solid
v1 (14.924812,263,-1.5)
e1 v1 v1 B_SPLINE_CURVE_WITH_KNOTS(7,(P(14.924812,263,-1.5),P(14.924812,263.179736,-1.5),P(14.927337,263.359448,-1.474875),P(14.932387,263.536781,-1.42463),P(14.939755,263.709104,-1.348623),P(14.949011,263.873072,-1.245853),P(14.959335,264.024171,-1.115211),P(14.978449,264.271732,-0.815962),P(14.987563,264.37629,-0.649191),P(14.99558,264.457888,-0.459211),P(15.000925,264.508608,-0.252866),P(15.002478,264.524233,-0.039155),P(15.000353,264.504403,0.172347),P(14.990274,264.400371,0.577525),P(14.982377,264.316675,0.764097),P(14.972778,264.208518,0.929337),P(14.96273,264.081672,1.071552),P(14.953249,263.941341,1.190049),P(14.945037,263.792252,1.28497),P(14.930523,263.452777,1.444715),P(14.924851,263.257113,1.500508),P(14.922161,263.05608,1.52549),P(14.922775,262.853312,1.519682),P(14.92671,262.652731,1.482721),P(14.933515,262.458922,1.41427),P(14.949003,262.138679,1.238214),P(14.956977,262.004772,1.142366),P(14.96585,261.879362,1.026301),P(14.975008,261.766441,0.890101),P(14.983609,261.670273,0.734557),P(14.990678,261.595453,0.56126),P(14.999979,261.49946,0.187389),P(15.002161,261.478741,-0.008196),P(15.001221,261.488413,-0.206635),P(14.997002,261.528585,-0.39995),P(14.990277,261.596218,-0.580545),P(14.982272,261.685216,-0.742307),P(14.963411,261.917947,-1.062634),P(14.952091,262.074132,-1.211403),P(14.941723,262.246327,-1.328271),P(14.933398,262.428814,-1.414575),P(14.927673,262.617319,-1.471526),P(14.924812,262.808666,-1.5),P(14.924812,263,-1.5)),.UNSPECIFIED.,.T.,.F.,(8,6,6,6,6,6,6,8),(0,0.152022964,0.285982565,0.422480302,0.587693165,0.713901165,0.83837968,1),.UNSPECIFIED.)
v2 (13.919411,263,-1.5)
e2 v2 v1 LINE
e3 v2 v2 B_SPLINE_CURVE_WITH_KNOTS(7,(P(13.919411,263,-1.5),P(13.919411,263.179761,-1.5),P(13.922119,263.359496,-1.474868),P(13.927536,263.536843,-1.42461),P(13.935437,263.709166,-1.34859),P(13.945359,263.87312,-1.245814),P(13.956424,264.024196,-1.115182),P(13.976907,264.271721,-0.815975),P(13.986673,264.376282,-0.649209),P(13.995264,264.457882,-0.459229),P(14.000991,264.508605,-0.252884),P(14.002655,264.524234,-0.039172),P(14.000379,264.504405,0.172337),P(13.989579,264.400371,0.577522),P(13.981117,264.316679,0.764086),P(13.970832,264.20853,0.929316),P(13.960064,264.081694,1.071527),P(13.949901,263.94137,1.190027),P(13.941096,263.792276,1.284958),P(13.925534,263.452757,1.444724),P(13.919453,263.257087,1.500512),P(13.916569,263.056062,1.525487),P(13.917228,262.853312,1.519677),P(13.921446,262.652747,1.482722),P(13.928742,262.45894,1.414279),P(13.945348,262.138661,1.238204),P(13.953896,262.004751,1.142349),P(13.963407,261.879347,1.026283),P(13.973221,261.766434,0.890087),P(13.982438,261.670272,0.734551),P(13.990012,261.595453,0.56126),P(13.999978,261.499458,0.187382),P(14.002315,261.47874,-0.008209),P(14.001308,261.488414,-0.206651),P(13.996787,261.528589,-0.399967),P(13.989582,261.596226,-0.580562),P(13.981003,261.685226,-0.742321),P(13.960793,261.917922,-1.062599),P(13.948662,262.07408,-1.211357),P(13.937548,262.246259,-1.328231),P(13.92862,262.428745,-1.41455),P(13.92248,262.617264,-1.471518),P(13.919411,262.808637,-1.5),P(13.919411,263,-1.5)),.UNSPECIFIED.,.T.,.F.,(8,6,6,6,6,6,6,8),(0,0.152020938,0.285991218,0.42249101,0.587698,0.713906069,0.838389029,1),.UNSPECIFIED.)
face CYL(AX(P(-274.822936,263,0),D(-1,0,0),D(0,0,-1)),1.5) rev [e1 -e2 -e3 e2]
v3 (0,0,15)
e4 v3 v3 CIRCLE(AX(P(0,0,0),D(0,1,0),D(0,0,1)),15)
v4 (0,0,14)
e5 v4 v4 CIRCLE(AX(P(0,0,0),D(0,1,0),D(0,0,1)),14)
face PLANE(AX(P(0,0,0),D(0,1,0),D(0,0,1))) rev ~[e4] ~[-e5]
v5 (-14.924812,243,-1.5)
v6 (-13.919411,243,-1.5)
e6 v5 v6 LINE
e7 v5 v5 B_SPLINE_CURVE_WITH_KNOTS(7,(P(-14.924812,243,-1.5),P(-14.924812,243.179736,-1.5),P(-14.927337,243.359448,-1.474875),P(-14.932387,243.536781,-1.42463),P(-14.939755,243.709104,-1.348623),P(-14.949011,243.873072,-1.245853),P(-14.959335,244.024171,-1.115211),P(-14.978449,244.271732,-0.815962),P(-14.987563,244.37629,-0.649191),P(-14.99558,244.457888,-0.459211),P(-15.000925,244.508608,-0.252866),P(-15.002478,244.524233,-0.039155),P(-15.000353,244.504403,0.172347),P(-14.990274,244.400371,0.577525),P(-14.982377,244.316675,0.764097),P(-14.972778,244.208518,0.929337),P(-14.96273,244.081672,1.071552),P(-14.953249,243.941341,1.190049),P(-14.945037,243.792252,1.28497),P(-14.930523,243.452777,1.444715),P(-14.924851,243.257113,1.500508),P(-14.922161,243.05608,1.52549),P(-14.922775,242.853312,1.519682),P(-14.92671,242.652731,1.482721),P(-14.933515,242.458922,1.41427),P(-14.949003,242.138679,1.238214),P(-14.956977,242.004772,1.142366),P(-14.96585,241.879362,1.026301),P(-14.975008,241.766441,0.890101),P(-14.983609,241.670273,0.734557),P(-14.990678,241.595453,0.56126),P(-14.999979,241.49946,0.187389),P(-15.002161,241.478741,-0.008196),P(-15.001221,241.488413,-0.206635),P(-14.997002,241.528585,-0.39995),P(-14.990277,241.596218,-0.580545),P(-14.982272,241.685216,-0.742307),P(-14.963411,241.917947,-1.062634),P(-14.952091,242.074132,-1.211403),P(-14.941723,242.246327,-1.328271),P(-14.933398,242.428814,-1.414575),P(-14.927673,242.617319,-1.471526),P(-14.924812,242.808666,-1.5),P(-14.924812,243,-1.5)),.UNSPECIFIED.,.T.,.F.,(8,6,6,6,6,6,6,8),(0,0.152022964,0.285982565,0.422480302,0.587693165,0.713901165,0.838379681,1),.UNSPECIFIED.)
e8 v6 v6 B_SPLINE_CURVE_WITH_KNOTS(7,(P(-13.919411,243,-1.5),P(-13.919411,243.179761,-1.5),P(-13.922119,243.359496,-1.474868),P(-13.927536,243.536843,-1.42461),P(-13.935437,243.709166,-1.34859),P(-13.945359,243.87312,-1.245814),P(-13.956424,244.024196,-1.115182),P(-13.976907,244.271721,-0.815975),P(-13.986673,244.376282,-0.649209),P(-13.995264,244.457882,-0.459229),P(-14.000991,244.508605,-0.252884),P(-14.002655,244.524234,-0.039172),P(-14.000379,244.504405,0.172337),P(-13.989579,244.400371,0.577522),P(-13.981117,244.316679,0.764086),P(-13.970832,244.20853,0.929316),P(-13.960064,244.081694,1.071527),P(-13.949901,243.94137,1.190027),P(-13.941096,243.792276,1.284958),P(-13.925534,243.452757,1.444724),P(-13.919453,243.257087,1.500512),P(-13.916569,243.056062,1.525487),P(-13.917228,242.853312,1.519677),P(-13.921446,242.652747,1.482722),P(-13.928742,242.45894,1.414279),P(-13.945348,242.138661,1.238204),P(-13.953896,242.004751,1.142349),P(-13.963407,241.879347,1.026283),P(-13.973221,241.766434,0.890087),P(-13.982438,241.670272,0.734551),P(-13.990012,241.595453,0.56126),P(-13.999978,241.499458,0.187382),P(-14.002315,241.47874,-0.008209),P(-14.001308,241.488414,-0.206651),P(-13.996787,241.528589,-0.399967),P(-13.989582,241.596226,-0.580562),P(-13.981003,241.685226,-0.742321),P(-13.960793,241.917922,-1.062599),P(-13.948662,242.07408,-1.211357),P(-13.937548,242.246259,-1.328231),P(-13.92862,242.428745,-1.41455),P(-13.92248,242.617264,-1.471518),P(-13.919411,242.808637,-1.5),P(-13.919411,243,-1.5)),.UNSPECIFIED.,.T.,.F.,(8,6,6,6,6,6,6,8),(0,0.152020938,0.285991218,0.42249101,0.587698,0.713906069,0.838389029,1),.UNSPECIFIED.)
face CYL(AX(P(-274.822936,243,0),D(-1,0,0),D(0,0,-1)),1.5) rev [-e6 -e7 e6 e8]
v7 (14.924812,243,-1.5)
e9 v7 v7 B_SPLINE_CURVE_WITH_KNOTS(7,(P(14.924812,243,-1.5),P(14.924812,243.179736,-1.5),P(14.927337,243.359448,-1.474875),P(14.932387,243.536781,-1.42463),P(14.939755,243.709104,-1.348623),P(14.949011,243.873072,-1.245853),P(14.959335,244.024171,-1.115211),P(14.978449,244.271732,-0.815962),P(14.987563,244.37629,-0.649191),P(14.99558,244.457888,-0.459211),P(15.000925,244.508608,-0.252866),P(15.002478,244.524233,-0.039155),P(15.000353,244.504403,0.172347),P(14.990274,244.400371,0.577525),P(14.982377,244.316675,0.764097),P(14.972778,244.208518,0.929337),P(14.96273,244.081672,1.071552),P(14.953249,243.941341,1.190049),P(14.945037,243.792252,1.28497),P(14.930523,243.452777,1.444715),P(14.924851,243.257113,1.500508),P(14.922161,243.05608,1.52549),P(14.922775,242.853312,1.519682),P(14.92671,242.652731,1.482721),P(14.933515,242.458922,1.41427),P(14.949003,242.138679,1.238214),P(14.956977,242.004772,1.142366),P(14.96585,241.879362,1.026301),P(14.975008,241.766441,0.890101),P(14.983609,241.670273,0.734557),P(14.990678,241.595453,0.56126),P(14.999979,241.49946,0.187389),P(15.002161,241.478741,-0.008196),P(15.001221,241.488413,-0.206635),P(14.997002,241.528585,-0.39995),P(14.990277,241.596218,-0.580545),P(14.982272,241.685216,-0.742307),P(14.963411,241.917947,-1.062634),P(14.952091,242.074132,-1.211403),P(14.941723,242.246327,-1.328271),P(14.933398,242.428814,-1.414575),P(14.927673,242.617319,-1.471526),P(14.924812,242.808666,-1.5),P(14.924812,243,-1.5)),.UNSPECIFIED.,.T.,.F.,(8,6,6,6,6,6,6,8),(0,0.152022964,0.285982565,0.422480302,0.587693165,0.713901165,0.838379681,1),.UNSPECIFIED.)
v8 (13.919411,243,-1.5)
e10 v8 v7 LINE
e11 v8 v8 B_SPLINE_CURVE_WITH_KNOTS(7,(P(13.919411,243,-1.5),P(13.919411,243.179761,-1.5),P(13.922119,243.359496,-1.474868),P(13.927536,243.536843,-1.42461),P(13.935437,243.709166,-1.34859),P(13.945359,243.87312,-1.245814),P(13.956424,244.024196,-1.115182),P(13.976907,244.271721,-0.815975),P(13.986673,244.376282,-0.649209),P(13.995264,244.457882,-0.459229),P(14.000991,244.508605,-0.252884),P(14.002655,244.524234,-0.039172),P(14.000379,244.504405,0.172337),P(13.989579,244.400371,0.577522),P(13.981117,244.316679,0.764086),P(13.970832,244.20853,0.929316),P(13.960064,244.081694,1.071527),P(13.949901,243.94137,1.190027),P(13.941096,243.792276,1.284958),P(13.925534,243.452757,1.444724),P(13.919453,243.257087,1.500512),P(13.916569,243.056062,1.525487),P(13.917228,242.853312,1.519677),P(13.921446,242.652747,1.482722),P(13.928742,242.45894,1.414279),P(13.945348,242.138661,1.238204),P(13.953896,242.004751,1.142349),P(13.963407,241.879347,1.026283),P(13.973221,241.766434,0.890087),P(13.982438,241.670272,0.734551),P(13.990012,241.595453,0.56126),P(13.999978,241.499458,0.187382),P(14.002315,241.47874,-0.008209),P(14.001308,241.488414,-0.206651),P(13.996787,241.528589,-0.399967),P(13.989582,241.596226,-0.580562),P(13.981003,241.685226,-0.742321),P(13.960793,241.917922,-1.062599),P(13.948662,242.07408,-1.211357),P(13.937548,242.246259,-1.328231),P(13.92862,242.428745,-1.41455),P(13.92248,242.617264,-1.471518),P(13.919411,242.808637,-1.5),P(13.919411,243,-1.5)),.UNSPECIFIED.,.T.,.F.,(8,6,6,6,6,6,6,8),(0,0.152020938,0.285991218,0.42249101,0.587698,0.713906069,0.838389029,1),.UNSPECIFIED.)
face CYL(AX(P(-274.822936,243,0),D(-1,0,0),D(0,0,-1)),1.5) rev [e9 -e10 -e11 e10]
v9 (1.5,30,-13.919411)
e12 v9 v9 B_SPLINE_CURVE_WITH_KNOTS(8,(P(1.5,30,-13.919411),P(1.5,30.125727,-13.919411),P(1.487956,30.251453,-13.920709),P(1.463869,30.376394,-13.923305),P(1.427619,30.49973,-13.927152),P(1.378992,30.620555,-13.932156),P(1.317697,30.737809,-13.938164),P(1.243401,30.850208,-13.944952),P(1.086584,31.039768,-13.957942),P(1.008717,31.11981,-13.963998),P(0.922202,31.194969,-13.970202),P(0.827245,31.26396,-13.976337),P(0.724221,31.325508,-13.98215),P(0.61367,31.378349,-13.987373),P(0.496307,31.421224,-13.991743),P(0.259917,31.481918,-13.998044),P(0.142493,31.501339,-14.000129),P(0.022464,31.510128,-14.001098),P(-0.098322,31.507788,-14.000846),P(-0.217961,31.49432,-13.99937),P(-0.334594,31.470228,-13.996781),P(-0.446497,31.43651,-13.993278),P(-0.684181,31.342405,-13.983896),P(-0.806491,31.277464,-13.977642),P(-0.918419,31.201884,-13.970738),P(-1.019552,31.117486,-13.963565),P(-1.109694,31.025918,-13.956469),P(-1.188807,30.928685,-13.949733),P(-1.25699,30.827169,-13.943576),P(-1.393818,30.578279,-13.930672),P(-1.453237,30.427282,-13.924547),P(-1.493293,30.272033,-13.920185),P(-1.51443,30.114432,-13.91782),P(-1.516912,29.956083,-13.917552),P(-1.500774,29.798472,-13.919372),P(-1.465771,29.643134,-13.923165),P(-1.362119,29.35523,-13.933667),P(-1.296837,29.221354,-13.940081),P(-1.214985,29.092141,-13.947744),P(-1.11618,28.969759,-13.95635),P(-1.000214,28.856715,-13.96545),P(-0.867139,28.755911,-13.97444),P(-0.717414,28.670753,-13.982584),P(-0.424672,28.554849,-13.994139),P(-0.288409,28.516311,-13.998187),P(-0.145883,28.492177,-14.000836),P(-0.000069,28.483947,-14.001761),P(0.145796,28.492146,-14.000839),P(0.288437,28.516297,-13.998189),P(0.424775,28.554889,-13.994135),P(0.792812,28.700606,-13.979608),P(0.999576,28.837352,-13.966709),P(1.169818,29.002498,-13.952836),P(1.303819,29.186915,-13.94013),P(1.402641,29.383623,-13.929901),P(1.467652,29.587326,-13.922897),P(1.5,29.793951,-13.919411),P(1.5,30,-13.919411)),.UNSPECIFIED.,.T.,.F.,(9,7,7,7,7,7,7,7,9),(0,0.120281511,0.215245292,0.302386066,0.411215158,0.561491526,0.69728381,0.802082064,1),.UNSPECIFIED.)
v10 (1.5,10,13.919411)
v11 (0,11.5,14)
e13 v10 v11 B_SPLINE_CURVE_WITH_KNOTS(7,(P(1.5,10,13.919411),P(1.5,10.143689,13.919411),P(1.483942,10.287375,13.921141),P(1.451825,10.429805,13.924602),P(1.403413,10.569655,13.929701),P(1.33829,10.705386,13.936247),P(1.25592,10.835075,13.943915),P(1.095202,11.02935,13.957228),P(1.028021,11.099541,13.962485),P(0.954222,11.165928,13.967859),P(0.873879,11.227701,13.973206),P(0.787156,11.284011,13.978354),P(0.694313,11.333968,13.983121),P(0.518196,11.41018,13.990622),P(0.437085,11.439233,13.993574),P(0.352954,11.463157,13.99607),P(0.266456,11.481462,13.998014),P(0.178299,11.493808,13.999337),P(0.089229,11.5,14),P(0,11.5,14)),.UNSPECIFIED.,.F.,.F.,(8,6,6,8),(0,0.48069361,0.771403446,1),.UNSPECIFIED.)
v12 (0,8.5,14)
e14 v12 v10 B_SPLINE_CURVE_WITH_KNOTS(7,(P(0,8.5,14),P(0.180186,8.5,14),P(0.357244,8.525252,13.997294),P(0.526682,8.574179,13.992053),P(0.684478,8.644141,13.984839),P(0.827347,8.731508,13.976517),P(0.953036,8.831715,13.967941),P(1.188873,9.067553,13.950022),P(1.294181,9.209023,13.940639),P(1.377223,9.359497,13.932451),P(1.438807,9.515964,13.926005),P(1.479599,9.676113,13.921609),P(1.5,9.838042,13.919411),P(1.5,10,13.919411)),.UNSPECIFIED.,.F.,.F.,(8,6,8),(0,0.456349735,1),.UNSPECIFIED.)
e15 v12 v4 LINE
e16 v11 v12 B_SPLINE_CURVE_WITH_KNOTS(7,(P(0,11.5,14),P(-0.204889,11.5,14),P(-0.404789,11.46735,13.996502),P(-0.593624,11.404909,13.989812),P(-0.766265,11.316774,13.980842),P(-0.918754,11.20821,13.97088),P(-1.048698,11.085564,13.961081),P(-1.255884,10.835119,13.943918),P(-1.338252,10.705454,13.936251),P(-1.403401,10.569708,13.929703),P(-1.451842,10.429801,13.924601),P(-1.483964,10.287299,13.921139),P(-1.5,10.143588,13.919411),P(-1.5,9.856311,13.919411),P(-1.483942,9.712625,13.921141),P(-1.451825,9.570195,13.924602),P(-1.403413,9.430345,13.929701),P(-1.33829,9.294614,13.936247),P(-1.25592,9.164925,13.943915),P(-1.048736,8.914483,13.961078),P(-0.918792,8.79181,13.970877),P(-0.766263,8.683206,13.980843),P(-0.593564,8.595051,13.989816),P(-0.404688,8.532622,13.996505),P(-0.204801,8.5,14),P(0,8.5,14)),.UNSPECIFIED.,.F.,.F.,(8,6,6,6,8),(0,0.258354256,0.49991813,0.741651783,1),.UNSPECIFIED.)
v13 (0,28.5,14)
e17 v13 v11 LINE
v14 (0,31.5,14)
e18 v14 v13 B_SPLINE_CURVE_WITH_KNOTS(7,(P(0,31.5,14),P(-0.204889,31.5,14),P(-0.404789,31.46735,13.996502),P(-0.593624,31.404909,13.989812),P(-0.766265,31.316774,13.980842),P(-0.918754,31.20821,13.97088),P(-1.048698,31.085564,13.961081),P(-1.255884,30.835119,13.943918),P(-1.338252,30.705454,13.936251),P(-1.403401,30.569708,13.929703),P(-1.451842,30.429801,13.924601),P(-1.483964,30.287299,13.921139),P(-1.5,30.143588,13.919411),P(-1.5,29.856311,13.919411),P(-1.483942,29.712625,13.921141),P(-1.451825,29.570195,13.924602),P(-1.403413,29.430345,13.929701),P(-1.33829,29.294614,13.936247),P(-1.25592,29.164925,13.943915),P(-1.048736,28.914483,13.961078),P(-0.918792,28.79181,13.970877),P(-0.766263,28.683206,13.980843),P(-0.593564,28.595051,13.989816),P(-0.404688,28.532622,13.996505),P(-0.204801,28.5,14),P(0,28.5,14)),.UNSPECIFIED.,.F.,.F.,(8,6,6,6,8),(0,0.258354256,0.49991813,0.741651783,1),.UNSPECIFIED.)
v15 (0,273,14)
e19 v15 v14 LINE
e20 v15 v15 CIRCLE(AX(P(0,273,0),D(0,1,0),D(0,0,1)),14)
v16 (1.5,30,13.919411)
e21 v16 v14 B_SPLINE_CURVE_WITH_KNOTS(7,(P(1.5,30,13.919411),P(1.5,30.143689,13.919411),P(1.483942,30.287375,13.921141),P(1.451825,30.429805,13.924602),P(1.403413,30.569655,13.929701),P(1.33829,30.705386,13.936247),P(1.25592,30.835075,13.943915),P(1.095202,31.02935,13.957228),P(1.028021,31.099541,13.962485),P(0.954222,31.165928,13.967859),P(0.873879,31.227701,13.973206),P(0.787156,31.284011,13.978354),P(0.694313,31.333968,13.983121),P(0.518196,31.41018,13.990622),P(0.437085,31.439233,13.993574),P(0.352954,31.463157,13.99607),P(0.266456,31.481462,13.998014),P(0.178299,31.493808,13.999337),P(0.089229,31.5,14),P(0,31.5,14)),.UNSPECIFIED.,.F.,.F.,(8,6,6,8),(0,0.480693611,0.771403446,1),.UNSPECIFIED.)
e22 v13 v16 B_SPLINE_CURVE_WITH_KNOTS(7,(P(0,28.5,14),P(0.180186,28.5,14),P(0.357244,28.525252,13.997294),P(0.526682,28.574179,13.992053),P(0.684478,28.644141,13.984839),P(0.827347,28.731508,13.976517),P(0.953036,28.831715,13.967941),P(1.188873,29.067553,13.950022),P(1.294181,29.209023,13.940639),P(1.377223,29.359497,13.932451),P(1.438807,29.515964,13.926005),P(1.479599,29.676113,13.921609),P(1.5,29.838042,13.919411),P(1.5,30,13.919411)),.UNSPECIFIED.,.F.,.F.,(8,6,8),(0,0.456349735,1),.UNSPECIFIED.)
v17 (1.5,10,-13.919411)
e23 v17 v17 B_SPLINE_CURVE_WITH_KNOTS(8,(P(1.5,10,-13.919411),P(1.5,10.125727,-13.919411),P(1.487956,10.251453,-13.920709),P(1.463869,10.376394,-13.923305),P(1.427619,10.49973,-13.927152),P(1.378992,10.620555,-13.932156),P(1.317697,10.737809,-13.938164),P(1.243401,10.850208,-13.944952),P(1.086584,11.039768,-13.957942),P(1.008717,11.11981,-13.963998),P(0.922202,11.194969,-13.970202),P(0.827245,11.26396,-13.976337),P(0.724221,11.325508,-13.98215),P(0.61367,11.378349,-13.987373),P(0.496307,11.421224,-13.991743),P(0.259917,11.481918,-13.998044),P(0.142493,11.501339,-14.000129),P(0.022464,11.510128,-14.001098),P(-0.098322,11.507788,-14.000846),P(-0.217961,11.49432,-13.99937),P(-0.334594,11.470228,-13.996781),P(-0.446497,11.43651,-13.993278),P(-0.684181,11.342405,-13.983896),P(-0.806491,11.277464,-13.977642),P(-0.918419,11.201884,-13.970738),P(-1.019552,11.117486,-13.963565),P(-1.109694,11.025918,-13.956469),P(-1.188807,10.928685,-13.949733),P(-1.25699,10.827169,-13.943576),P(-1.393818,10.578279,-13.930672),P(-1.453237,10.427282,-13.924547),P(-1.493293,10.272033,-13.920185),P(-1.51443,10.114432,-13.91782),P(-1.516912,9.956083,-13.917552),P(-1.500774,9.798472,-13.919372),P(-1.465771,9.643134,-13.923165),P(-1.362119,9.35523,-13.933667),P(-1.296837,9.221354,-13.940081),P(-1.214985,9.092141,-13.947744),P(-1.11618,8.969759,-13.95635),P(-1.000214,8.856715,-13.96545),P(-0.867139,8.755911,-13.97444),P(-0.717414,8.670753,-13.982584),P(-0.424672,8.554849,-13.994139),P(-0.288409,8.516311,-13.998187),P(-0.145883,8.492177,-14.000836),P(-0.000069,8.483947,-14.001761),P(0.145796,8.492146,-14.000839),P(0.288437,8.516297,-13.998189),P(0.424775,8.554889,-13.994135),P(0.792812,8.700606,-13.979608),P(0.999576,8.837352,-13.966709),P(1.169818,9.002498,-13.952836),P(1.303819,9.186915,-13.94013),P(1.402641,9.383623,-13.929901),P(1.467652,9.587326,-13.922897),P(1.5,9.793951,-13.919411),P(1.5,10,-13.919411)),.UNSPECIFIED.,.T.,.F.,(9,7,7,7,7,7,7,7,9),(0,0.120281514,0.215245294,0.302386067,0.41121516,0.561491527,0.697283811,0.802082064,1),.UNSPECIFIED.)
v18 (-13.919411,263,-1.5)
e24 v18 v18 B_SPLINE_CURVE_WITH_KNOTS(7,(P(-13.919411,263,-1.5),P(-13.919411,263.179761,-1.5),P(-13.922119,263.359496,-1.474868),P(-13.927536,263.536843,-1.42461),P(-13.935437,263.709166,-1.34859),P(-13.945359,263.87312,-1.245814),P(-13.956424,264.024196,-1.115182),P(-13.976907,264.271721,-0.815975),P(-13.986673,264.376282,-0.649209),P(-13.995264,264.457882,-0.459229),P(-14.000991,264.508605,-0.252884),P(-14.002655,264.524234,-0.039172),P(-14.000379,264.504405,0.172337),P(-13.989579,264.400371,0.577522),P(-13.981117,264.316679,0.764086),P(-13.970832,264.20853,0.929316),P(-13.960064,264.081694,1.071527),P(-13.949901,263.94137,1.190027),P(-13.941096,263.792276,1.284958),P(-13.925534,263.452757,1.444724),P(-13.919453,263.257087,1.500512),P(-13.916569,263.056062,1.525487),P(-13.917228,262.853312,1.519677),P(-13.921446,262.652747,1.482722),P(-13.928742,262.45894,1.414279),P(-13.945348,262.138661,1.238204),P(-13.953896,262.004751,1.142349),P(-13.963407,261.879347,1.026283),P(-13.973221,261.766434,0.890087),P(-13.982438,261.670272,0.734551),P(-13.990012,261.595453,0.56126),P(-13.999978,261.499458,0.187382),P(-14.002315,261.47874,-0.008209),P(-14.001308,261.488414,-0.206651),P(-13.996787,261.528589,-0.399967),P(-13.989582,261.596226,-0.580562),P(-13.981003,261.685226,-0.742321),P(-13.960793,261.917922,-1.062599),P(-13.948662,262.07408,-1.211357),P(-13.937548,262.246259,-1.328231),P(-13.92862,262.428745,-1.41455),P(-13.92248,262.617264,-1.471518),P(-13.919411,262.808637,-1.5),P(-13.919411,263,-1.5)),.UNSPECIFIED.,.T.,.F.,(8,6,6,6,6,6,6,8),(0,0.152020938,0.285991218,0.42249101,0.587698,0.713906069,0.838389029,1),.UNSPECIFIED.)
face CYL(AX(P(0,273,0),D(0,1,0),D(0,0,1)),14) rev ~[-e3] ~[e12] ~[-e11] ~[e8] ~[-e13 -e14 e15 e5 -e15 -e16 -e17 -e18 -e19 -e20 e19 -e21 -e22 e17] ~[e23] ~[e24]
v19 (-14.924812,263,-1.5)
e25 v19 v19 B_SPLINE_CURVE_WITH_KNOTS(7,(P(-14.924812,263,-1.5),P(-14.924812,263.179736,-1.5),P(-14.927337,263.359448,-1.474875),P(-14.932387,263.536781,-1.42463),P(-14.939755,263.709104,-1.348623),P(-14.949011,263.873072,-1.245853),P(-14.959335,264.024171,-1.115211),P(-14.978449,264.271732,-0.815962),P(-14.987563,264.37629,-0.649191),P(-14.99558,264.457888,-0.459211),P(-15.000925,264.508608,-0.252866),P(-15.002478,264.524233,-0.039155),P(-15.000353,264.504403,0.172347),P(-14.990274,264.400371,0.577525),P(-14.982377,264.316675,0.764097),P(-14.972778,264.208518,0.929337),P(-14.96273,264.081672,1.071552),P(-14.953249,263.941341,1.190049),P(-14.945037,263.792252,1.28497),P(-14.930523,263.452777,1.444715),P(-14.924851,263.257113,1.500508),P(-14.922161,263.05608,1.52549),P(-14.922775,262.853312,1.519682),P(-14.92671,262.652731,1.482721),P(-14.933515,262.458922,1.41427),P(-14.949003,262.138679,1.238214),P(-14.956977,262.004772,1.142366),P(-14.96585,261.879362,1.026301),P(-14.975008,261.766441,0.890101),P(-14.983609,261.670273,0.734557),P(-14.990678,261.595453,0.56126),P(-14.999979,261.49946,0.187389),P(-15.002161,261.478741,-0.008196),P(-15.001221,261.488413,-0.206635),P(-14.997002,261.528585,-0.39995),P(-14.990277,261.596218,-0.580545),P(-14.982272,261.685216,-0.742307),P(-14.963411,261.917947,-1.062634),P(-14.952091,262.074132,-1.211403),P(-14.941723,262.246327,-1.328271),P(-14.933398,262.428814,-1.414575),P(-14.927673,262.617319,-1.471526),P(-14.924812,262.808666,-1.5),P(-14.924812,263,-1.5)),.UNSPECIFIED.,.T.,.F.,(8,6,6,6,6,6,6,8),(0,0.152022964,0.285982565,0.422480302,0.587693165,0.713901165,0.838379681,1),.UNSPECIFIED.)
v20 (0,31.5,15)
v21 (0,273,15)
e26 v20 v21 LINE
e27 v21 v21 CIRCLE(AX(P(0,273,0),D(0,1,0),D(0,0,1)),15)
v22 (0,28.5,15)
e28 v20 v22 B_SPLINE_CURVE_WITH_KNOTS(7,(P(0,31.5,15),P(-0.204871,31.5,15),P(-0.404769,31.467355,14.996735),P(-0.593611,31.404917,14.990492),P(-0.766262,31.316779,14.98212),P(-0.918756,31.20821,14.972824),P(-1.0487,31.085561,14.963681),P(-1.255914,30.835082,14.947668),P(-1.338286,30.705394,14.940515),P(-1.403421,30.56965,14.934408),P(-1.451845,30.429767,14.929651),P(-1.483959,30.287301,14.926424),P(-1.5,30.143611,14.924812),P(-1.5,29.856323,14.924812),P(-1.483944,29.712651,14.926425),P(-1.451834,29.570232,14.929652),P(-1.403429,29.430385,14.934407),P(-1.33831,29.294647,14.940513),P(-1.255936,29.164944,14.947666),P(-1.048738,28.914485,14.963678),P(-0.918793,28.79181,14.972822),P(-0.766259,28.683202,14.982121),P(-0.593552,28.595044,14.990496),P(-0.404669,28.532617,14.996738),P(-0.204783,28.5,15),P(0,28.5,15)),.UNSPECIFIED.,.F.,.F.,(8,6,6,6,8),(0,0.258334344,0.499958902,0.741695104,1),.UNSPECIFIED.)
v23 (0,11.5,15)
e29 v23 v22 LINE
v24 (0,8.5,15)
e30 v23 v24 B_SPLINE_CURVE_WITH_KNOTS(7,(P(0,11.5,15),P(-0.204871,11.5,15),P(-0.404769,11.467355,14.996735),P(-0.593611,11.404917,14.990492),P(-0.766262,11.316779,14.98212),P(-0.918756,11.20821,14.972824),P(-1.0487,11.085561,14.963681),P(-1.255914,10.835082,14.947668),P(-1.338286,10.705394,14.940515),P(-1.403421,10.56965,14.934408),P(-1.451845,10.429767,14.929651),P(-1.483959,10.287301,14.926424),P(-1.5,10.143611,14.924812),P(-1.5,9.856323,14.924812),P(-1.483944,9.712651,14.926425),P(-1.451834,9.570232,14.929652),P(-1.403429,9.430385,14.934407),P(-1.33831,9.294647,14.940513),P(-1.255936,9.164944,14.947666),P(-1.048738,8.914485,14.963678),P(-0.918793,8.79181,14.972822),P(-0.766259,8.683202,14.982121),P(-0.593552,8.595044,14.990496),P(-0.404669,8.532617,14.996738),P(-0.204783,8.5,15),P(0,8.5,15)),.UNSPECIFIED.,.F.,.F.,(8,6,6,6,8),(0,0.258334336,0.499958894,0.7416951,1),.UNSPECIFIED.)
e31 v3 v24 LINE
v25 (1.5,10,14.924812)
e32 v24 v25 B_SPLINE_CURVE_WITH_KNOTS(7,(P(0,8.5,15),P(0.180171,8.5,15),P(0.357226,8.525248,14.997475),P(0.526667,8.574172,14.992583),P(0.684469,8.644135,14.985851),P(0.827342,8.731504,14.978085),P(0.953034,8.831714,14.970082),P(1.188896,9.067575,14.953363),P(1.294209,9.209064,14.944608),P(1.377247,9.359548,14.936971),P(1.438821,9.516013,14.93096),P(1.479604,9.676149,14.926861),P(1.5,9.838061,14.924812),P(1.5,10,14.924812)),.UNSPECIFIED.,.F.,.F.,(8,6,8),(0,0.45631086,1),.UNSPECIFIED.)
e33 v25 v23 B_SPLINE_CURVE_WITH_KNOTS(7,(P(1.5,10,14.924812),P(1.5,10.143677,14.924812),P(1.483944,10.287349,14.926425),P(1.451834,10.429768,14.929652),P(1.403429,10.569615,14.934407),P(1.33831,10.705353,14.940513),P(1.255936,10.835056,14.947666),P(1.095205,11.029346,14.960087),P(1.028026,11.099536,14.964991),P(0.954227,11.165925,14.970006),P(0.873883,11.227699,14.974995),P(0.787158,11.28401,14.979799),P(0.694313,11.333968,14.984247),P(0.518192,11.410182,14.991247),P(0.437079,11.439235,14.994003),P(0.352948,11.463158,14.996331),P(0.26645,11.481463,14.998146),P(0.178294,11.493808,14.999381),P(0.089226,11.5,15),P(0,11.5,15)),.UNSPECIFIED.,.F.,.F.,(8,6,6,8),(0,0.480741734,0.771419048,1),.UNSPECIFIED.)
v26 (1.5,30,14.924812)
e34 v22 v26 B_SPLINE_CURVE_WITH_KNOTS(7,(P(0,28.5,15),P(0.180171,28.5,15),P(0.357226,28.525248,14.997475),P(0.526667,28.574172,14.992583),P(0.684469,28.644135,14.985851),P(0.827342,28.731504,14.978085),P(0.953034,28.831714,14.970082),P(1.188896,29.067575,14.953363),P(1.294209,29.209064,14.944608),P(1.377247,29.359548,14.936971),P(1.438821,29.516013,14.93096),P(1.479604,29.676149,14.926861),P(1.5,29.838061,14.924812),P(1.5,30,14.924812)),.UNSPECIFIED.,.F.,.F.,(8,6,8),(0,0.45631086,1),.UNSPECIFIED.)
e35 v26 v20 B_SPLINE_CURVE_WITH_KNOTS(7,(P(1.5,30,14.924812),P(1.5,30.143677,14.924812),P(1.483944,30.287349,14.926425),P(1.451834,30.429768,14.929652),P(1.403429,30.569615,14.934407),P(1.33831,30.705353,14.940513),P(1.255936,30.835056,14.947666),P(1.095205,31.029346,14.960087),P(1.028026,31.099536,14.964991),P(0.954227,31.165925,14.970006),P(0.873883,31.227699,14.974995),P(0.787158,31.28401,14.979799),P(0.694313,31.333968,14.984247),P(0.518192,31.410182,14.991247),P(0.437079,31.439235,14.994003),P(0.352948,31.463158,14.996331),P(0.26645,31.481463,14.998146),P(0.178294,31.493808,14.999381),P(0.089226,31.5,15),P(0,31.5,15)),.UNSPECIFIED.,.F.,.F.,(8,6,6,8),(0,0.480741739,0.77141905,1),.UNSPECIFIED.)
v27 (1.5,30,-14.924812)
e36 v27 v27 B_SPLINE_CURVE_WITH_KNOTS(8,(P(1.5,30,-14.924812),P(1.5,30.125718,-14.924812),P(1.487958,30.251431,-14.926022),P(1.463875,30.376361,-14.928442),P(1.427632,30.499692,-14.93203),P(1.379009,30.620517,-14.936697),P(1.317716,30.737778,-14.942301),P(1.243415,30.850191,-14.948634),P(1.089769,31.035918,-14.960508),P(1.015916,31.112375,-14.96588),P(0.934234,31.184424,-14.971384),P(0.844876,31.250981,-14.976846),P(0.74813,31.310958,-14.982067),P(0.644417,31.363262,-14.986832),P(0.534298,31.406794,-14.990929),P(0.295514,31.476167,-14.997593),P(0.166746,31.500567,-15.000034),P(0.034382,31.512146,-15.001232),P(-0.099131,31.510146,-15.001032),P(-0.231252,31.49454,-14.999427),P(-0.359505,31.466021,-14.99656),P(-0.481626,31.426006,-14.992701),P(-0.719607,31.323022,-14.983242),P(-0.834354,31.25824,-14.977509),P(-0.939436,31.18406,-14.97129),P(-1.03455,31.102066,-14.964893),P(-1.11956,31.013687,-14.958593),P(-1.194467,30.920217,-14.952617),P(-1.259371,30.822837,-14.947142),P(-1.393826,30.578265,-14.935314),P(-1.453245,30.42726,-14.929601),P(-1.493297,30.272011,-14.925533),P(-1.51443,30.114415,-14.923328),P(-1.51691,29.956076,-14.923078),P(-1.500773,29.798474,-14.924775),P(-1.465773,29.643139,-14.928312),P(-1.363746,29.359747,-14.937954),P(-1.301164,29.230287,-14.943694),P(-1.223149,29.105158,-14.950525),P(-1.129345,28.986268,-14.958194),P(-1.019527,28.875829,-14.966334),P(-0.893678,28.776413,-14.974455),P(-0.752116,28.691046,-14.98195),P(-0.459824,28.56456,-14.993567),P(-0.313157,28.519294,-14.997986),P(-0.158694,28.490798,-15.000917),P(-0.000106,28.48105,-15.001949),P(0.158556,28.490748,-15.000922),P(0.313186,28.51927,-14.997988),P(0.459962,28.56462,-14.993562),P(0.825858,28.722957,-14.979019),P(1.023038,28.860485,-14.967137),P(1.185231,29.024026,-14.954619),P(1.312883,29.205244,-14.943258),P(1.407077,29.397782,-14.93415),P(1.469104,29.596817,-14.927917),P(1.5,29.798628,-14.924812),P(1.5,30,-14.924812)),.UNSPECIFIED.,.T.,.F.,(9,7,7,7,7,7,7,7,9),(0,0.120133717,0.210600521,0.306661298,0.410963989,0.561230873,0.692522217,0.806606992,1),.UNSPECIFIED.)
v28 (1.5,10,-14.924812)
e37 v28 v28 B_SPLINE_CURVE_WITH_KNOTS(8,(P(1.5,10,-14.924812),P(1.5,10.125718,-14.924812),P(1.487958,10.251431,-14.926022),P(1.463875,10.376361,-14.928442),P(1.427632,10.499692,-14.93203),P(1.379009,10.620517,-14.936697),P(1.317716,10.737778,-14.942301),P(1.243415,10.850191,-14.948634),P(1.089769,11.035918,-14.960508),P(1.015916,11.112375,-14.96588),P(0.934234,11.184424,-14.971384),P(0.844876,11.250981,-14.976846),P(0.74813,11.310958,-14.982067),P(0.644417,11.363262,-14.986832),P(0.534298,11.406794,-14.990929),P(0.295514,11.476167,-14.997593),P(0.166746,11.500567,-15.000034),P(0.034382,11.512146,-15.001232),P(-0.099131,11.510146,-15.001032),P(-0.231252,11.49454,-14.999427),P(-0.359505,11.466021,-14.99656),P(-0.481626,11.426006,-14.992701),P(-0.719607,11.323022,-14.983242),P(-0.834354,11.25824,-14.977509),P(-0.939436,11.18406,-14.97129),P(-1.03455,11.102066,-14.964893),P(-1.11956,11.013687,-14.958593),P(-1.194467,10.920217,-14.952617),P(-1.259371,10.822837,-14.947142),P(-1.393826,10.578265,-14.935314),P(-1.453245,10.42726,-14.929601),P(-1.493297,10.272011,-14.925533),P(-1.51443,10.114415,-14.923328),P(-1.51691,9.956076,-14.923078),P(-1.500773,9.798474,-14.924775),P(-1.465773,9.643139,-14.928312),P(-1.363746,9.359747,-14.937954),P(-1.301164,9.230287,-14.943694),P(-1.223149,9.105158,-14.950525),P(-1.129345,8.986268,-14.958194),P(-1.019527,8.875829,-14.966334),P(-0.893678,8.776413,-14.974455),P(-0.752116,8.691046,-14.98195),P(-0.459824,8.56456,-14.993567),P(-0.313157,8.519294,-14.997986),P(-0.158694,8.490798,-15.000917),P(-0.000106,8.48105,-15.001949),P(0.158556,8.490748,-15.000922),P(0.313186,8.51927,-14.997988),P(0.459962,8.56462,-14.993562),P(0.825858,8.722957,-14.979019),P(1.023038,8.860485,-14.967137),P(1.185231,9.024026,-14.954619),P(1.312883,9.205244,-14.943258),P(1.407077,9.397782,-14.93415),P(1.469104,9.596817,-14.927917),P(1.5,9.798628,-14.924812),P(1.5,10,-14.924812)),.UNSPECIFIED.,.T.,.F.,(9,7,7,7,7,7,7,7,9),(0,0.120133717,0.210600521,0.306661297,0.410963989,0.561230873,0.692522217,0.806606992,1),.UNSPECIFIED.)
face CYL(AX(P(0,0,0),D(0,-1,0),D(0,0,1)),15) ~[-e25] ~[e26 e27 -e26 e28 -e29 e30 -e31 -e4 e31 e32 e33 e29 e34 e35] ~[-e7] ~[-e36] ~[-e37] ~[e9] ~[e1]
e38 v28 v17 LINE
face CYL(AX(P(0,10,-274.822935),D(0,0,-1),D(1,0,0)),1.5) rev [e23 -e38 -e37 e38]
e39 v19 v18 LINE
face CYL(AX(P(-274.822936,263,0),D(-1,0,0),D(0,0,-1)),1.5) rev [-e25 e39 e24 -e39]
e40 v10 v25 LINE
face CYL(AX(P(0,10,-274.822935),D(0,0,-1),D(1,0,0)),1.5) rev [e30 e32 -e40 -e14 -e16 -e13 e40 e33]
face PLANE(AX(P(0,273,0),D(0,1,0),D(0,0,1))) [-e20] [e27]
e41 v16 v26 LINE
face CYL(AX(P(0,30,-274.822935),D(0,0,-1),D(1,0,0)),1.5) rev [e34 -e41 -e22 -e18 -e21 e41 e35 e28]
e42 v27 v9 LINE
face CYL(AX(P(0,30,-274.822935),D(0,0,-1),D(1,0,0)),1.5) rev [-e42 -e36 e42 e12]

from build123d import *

# Parameters (mm, degrees)
SKETCH_1_R               = 15
EXTRUDE_1_DEPTH          = 273
CUT_EXTRUDE_1_DEPTH      = 274.822935489
CUT_EXTRUDE_1_DEPTH_BACK = 274.822935489
SKETCH_2_R               = 1.5
CUT_EXTRUDE_2_DEPTH      = 274.8229356
CUT_EXTRUDE_2_DEPTH_BACK = 274.8229356
SKETCH_3_R               = 1.5
CUT_EXTRUDE_3_REACH      = 275.823
SKETCH_4_R               = 14


with BuildPart() as part:
    # 草圖1 → 填料-伸長1 (new body)
    with BuildSketch(Plane(origin=(0, 0, 0), x_dir=(1, 0, 0), z_dir=(0, 1, 0))):
        with Locations(Location((0, 0, 0), (0, 0, 270))):
            Circle(SKETCH_1_R)
    extrude(amount=EXTRUDE_1_DEPTH)

    # 草圖2 → 除料-伸長1 (cut, two sides: drawn at the far end of the back side and taken through both)
    with BuildSketch(Plane.XY.offset(-CUT_EXTRUDE_1_DEPTH_BACK)):
        with Locations((0, 10)):
            Circle(SKETCH_2_R)
        with Locations((0, 30)):
            Circle(SKETCH_2_R)
    extrude(amount=CUT_EXTRUDE_1_DEPTH + CUT_EXTRUDE_1_DEPTH_BACK, mode=Mode.SUBTRACT)

    # 草圖3 → 除料-伸長2 (cut, two sides: drawn at the far end of the back side and taken through both)
    with BuildSketch(Plane(origin=(0, 0, 0), x_dir=(0, 0, -1), z_dir=(1, 0, 0)).offset(-CUT_EXTRUDE_2_DEPTH_BACK)):
        with Locations((0, 263)):
            Circle(SKETCH_3_R)
        with Locations((0, 243)):
            Circle(SKETCH_3_R)
    extrude(amount=CUT_EXTRUDE_2_DEPTH + CUT_EXTRUDE_2_DEPTH_BACK, mode=Mode.SUBTRACT)

    # 草圖4 → 除料-伸長3 (cut, up to next)
    with BuildSketch(Plane(origin=(0, 273, 0), x_dir=(1, 0, 0), z_dir=(0, 1, 0)), mode=Mode.PRIVATE) as cut_extrude_3_sk1:
        with Locations(Location((0, 0, 0), (0, 0, 270))):
            Circle(SKETCH_4_R)
    cut_extrude_3_tool1 = extrude(cut_extrude_3_sk1.sketch, amount=-CUT_EXTRUDE_3_REACH, mode=Mode.PRIVATE) & part.part
    add(cut_extrude_3_tool1.solids().sort_by_distance((0, 273, 0))[0], mode=Mode.SUBTRACT)


solid = part.part
